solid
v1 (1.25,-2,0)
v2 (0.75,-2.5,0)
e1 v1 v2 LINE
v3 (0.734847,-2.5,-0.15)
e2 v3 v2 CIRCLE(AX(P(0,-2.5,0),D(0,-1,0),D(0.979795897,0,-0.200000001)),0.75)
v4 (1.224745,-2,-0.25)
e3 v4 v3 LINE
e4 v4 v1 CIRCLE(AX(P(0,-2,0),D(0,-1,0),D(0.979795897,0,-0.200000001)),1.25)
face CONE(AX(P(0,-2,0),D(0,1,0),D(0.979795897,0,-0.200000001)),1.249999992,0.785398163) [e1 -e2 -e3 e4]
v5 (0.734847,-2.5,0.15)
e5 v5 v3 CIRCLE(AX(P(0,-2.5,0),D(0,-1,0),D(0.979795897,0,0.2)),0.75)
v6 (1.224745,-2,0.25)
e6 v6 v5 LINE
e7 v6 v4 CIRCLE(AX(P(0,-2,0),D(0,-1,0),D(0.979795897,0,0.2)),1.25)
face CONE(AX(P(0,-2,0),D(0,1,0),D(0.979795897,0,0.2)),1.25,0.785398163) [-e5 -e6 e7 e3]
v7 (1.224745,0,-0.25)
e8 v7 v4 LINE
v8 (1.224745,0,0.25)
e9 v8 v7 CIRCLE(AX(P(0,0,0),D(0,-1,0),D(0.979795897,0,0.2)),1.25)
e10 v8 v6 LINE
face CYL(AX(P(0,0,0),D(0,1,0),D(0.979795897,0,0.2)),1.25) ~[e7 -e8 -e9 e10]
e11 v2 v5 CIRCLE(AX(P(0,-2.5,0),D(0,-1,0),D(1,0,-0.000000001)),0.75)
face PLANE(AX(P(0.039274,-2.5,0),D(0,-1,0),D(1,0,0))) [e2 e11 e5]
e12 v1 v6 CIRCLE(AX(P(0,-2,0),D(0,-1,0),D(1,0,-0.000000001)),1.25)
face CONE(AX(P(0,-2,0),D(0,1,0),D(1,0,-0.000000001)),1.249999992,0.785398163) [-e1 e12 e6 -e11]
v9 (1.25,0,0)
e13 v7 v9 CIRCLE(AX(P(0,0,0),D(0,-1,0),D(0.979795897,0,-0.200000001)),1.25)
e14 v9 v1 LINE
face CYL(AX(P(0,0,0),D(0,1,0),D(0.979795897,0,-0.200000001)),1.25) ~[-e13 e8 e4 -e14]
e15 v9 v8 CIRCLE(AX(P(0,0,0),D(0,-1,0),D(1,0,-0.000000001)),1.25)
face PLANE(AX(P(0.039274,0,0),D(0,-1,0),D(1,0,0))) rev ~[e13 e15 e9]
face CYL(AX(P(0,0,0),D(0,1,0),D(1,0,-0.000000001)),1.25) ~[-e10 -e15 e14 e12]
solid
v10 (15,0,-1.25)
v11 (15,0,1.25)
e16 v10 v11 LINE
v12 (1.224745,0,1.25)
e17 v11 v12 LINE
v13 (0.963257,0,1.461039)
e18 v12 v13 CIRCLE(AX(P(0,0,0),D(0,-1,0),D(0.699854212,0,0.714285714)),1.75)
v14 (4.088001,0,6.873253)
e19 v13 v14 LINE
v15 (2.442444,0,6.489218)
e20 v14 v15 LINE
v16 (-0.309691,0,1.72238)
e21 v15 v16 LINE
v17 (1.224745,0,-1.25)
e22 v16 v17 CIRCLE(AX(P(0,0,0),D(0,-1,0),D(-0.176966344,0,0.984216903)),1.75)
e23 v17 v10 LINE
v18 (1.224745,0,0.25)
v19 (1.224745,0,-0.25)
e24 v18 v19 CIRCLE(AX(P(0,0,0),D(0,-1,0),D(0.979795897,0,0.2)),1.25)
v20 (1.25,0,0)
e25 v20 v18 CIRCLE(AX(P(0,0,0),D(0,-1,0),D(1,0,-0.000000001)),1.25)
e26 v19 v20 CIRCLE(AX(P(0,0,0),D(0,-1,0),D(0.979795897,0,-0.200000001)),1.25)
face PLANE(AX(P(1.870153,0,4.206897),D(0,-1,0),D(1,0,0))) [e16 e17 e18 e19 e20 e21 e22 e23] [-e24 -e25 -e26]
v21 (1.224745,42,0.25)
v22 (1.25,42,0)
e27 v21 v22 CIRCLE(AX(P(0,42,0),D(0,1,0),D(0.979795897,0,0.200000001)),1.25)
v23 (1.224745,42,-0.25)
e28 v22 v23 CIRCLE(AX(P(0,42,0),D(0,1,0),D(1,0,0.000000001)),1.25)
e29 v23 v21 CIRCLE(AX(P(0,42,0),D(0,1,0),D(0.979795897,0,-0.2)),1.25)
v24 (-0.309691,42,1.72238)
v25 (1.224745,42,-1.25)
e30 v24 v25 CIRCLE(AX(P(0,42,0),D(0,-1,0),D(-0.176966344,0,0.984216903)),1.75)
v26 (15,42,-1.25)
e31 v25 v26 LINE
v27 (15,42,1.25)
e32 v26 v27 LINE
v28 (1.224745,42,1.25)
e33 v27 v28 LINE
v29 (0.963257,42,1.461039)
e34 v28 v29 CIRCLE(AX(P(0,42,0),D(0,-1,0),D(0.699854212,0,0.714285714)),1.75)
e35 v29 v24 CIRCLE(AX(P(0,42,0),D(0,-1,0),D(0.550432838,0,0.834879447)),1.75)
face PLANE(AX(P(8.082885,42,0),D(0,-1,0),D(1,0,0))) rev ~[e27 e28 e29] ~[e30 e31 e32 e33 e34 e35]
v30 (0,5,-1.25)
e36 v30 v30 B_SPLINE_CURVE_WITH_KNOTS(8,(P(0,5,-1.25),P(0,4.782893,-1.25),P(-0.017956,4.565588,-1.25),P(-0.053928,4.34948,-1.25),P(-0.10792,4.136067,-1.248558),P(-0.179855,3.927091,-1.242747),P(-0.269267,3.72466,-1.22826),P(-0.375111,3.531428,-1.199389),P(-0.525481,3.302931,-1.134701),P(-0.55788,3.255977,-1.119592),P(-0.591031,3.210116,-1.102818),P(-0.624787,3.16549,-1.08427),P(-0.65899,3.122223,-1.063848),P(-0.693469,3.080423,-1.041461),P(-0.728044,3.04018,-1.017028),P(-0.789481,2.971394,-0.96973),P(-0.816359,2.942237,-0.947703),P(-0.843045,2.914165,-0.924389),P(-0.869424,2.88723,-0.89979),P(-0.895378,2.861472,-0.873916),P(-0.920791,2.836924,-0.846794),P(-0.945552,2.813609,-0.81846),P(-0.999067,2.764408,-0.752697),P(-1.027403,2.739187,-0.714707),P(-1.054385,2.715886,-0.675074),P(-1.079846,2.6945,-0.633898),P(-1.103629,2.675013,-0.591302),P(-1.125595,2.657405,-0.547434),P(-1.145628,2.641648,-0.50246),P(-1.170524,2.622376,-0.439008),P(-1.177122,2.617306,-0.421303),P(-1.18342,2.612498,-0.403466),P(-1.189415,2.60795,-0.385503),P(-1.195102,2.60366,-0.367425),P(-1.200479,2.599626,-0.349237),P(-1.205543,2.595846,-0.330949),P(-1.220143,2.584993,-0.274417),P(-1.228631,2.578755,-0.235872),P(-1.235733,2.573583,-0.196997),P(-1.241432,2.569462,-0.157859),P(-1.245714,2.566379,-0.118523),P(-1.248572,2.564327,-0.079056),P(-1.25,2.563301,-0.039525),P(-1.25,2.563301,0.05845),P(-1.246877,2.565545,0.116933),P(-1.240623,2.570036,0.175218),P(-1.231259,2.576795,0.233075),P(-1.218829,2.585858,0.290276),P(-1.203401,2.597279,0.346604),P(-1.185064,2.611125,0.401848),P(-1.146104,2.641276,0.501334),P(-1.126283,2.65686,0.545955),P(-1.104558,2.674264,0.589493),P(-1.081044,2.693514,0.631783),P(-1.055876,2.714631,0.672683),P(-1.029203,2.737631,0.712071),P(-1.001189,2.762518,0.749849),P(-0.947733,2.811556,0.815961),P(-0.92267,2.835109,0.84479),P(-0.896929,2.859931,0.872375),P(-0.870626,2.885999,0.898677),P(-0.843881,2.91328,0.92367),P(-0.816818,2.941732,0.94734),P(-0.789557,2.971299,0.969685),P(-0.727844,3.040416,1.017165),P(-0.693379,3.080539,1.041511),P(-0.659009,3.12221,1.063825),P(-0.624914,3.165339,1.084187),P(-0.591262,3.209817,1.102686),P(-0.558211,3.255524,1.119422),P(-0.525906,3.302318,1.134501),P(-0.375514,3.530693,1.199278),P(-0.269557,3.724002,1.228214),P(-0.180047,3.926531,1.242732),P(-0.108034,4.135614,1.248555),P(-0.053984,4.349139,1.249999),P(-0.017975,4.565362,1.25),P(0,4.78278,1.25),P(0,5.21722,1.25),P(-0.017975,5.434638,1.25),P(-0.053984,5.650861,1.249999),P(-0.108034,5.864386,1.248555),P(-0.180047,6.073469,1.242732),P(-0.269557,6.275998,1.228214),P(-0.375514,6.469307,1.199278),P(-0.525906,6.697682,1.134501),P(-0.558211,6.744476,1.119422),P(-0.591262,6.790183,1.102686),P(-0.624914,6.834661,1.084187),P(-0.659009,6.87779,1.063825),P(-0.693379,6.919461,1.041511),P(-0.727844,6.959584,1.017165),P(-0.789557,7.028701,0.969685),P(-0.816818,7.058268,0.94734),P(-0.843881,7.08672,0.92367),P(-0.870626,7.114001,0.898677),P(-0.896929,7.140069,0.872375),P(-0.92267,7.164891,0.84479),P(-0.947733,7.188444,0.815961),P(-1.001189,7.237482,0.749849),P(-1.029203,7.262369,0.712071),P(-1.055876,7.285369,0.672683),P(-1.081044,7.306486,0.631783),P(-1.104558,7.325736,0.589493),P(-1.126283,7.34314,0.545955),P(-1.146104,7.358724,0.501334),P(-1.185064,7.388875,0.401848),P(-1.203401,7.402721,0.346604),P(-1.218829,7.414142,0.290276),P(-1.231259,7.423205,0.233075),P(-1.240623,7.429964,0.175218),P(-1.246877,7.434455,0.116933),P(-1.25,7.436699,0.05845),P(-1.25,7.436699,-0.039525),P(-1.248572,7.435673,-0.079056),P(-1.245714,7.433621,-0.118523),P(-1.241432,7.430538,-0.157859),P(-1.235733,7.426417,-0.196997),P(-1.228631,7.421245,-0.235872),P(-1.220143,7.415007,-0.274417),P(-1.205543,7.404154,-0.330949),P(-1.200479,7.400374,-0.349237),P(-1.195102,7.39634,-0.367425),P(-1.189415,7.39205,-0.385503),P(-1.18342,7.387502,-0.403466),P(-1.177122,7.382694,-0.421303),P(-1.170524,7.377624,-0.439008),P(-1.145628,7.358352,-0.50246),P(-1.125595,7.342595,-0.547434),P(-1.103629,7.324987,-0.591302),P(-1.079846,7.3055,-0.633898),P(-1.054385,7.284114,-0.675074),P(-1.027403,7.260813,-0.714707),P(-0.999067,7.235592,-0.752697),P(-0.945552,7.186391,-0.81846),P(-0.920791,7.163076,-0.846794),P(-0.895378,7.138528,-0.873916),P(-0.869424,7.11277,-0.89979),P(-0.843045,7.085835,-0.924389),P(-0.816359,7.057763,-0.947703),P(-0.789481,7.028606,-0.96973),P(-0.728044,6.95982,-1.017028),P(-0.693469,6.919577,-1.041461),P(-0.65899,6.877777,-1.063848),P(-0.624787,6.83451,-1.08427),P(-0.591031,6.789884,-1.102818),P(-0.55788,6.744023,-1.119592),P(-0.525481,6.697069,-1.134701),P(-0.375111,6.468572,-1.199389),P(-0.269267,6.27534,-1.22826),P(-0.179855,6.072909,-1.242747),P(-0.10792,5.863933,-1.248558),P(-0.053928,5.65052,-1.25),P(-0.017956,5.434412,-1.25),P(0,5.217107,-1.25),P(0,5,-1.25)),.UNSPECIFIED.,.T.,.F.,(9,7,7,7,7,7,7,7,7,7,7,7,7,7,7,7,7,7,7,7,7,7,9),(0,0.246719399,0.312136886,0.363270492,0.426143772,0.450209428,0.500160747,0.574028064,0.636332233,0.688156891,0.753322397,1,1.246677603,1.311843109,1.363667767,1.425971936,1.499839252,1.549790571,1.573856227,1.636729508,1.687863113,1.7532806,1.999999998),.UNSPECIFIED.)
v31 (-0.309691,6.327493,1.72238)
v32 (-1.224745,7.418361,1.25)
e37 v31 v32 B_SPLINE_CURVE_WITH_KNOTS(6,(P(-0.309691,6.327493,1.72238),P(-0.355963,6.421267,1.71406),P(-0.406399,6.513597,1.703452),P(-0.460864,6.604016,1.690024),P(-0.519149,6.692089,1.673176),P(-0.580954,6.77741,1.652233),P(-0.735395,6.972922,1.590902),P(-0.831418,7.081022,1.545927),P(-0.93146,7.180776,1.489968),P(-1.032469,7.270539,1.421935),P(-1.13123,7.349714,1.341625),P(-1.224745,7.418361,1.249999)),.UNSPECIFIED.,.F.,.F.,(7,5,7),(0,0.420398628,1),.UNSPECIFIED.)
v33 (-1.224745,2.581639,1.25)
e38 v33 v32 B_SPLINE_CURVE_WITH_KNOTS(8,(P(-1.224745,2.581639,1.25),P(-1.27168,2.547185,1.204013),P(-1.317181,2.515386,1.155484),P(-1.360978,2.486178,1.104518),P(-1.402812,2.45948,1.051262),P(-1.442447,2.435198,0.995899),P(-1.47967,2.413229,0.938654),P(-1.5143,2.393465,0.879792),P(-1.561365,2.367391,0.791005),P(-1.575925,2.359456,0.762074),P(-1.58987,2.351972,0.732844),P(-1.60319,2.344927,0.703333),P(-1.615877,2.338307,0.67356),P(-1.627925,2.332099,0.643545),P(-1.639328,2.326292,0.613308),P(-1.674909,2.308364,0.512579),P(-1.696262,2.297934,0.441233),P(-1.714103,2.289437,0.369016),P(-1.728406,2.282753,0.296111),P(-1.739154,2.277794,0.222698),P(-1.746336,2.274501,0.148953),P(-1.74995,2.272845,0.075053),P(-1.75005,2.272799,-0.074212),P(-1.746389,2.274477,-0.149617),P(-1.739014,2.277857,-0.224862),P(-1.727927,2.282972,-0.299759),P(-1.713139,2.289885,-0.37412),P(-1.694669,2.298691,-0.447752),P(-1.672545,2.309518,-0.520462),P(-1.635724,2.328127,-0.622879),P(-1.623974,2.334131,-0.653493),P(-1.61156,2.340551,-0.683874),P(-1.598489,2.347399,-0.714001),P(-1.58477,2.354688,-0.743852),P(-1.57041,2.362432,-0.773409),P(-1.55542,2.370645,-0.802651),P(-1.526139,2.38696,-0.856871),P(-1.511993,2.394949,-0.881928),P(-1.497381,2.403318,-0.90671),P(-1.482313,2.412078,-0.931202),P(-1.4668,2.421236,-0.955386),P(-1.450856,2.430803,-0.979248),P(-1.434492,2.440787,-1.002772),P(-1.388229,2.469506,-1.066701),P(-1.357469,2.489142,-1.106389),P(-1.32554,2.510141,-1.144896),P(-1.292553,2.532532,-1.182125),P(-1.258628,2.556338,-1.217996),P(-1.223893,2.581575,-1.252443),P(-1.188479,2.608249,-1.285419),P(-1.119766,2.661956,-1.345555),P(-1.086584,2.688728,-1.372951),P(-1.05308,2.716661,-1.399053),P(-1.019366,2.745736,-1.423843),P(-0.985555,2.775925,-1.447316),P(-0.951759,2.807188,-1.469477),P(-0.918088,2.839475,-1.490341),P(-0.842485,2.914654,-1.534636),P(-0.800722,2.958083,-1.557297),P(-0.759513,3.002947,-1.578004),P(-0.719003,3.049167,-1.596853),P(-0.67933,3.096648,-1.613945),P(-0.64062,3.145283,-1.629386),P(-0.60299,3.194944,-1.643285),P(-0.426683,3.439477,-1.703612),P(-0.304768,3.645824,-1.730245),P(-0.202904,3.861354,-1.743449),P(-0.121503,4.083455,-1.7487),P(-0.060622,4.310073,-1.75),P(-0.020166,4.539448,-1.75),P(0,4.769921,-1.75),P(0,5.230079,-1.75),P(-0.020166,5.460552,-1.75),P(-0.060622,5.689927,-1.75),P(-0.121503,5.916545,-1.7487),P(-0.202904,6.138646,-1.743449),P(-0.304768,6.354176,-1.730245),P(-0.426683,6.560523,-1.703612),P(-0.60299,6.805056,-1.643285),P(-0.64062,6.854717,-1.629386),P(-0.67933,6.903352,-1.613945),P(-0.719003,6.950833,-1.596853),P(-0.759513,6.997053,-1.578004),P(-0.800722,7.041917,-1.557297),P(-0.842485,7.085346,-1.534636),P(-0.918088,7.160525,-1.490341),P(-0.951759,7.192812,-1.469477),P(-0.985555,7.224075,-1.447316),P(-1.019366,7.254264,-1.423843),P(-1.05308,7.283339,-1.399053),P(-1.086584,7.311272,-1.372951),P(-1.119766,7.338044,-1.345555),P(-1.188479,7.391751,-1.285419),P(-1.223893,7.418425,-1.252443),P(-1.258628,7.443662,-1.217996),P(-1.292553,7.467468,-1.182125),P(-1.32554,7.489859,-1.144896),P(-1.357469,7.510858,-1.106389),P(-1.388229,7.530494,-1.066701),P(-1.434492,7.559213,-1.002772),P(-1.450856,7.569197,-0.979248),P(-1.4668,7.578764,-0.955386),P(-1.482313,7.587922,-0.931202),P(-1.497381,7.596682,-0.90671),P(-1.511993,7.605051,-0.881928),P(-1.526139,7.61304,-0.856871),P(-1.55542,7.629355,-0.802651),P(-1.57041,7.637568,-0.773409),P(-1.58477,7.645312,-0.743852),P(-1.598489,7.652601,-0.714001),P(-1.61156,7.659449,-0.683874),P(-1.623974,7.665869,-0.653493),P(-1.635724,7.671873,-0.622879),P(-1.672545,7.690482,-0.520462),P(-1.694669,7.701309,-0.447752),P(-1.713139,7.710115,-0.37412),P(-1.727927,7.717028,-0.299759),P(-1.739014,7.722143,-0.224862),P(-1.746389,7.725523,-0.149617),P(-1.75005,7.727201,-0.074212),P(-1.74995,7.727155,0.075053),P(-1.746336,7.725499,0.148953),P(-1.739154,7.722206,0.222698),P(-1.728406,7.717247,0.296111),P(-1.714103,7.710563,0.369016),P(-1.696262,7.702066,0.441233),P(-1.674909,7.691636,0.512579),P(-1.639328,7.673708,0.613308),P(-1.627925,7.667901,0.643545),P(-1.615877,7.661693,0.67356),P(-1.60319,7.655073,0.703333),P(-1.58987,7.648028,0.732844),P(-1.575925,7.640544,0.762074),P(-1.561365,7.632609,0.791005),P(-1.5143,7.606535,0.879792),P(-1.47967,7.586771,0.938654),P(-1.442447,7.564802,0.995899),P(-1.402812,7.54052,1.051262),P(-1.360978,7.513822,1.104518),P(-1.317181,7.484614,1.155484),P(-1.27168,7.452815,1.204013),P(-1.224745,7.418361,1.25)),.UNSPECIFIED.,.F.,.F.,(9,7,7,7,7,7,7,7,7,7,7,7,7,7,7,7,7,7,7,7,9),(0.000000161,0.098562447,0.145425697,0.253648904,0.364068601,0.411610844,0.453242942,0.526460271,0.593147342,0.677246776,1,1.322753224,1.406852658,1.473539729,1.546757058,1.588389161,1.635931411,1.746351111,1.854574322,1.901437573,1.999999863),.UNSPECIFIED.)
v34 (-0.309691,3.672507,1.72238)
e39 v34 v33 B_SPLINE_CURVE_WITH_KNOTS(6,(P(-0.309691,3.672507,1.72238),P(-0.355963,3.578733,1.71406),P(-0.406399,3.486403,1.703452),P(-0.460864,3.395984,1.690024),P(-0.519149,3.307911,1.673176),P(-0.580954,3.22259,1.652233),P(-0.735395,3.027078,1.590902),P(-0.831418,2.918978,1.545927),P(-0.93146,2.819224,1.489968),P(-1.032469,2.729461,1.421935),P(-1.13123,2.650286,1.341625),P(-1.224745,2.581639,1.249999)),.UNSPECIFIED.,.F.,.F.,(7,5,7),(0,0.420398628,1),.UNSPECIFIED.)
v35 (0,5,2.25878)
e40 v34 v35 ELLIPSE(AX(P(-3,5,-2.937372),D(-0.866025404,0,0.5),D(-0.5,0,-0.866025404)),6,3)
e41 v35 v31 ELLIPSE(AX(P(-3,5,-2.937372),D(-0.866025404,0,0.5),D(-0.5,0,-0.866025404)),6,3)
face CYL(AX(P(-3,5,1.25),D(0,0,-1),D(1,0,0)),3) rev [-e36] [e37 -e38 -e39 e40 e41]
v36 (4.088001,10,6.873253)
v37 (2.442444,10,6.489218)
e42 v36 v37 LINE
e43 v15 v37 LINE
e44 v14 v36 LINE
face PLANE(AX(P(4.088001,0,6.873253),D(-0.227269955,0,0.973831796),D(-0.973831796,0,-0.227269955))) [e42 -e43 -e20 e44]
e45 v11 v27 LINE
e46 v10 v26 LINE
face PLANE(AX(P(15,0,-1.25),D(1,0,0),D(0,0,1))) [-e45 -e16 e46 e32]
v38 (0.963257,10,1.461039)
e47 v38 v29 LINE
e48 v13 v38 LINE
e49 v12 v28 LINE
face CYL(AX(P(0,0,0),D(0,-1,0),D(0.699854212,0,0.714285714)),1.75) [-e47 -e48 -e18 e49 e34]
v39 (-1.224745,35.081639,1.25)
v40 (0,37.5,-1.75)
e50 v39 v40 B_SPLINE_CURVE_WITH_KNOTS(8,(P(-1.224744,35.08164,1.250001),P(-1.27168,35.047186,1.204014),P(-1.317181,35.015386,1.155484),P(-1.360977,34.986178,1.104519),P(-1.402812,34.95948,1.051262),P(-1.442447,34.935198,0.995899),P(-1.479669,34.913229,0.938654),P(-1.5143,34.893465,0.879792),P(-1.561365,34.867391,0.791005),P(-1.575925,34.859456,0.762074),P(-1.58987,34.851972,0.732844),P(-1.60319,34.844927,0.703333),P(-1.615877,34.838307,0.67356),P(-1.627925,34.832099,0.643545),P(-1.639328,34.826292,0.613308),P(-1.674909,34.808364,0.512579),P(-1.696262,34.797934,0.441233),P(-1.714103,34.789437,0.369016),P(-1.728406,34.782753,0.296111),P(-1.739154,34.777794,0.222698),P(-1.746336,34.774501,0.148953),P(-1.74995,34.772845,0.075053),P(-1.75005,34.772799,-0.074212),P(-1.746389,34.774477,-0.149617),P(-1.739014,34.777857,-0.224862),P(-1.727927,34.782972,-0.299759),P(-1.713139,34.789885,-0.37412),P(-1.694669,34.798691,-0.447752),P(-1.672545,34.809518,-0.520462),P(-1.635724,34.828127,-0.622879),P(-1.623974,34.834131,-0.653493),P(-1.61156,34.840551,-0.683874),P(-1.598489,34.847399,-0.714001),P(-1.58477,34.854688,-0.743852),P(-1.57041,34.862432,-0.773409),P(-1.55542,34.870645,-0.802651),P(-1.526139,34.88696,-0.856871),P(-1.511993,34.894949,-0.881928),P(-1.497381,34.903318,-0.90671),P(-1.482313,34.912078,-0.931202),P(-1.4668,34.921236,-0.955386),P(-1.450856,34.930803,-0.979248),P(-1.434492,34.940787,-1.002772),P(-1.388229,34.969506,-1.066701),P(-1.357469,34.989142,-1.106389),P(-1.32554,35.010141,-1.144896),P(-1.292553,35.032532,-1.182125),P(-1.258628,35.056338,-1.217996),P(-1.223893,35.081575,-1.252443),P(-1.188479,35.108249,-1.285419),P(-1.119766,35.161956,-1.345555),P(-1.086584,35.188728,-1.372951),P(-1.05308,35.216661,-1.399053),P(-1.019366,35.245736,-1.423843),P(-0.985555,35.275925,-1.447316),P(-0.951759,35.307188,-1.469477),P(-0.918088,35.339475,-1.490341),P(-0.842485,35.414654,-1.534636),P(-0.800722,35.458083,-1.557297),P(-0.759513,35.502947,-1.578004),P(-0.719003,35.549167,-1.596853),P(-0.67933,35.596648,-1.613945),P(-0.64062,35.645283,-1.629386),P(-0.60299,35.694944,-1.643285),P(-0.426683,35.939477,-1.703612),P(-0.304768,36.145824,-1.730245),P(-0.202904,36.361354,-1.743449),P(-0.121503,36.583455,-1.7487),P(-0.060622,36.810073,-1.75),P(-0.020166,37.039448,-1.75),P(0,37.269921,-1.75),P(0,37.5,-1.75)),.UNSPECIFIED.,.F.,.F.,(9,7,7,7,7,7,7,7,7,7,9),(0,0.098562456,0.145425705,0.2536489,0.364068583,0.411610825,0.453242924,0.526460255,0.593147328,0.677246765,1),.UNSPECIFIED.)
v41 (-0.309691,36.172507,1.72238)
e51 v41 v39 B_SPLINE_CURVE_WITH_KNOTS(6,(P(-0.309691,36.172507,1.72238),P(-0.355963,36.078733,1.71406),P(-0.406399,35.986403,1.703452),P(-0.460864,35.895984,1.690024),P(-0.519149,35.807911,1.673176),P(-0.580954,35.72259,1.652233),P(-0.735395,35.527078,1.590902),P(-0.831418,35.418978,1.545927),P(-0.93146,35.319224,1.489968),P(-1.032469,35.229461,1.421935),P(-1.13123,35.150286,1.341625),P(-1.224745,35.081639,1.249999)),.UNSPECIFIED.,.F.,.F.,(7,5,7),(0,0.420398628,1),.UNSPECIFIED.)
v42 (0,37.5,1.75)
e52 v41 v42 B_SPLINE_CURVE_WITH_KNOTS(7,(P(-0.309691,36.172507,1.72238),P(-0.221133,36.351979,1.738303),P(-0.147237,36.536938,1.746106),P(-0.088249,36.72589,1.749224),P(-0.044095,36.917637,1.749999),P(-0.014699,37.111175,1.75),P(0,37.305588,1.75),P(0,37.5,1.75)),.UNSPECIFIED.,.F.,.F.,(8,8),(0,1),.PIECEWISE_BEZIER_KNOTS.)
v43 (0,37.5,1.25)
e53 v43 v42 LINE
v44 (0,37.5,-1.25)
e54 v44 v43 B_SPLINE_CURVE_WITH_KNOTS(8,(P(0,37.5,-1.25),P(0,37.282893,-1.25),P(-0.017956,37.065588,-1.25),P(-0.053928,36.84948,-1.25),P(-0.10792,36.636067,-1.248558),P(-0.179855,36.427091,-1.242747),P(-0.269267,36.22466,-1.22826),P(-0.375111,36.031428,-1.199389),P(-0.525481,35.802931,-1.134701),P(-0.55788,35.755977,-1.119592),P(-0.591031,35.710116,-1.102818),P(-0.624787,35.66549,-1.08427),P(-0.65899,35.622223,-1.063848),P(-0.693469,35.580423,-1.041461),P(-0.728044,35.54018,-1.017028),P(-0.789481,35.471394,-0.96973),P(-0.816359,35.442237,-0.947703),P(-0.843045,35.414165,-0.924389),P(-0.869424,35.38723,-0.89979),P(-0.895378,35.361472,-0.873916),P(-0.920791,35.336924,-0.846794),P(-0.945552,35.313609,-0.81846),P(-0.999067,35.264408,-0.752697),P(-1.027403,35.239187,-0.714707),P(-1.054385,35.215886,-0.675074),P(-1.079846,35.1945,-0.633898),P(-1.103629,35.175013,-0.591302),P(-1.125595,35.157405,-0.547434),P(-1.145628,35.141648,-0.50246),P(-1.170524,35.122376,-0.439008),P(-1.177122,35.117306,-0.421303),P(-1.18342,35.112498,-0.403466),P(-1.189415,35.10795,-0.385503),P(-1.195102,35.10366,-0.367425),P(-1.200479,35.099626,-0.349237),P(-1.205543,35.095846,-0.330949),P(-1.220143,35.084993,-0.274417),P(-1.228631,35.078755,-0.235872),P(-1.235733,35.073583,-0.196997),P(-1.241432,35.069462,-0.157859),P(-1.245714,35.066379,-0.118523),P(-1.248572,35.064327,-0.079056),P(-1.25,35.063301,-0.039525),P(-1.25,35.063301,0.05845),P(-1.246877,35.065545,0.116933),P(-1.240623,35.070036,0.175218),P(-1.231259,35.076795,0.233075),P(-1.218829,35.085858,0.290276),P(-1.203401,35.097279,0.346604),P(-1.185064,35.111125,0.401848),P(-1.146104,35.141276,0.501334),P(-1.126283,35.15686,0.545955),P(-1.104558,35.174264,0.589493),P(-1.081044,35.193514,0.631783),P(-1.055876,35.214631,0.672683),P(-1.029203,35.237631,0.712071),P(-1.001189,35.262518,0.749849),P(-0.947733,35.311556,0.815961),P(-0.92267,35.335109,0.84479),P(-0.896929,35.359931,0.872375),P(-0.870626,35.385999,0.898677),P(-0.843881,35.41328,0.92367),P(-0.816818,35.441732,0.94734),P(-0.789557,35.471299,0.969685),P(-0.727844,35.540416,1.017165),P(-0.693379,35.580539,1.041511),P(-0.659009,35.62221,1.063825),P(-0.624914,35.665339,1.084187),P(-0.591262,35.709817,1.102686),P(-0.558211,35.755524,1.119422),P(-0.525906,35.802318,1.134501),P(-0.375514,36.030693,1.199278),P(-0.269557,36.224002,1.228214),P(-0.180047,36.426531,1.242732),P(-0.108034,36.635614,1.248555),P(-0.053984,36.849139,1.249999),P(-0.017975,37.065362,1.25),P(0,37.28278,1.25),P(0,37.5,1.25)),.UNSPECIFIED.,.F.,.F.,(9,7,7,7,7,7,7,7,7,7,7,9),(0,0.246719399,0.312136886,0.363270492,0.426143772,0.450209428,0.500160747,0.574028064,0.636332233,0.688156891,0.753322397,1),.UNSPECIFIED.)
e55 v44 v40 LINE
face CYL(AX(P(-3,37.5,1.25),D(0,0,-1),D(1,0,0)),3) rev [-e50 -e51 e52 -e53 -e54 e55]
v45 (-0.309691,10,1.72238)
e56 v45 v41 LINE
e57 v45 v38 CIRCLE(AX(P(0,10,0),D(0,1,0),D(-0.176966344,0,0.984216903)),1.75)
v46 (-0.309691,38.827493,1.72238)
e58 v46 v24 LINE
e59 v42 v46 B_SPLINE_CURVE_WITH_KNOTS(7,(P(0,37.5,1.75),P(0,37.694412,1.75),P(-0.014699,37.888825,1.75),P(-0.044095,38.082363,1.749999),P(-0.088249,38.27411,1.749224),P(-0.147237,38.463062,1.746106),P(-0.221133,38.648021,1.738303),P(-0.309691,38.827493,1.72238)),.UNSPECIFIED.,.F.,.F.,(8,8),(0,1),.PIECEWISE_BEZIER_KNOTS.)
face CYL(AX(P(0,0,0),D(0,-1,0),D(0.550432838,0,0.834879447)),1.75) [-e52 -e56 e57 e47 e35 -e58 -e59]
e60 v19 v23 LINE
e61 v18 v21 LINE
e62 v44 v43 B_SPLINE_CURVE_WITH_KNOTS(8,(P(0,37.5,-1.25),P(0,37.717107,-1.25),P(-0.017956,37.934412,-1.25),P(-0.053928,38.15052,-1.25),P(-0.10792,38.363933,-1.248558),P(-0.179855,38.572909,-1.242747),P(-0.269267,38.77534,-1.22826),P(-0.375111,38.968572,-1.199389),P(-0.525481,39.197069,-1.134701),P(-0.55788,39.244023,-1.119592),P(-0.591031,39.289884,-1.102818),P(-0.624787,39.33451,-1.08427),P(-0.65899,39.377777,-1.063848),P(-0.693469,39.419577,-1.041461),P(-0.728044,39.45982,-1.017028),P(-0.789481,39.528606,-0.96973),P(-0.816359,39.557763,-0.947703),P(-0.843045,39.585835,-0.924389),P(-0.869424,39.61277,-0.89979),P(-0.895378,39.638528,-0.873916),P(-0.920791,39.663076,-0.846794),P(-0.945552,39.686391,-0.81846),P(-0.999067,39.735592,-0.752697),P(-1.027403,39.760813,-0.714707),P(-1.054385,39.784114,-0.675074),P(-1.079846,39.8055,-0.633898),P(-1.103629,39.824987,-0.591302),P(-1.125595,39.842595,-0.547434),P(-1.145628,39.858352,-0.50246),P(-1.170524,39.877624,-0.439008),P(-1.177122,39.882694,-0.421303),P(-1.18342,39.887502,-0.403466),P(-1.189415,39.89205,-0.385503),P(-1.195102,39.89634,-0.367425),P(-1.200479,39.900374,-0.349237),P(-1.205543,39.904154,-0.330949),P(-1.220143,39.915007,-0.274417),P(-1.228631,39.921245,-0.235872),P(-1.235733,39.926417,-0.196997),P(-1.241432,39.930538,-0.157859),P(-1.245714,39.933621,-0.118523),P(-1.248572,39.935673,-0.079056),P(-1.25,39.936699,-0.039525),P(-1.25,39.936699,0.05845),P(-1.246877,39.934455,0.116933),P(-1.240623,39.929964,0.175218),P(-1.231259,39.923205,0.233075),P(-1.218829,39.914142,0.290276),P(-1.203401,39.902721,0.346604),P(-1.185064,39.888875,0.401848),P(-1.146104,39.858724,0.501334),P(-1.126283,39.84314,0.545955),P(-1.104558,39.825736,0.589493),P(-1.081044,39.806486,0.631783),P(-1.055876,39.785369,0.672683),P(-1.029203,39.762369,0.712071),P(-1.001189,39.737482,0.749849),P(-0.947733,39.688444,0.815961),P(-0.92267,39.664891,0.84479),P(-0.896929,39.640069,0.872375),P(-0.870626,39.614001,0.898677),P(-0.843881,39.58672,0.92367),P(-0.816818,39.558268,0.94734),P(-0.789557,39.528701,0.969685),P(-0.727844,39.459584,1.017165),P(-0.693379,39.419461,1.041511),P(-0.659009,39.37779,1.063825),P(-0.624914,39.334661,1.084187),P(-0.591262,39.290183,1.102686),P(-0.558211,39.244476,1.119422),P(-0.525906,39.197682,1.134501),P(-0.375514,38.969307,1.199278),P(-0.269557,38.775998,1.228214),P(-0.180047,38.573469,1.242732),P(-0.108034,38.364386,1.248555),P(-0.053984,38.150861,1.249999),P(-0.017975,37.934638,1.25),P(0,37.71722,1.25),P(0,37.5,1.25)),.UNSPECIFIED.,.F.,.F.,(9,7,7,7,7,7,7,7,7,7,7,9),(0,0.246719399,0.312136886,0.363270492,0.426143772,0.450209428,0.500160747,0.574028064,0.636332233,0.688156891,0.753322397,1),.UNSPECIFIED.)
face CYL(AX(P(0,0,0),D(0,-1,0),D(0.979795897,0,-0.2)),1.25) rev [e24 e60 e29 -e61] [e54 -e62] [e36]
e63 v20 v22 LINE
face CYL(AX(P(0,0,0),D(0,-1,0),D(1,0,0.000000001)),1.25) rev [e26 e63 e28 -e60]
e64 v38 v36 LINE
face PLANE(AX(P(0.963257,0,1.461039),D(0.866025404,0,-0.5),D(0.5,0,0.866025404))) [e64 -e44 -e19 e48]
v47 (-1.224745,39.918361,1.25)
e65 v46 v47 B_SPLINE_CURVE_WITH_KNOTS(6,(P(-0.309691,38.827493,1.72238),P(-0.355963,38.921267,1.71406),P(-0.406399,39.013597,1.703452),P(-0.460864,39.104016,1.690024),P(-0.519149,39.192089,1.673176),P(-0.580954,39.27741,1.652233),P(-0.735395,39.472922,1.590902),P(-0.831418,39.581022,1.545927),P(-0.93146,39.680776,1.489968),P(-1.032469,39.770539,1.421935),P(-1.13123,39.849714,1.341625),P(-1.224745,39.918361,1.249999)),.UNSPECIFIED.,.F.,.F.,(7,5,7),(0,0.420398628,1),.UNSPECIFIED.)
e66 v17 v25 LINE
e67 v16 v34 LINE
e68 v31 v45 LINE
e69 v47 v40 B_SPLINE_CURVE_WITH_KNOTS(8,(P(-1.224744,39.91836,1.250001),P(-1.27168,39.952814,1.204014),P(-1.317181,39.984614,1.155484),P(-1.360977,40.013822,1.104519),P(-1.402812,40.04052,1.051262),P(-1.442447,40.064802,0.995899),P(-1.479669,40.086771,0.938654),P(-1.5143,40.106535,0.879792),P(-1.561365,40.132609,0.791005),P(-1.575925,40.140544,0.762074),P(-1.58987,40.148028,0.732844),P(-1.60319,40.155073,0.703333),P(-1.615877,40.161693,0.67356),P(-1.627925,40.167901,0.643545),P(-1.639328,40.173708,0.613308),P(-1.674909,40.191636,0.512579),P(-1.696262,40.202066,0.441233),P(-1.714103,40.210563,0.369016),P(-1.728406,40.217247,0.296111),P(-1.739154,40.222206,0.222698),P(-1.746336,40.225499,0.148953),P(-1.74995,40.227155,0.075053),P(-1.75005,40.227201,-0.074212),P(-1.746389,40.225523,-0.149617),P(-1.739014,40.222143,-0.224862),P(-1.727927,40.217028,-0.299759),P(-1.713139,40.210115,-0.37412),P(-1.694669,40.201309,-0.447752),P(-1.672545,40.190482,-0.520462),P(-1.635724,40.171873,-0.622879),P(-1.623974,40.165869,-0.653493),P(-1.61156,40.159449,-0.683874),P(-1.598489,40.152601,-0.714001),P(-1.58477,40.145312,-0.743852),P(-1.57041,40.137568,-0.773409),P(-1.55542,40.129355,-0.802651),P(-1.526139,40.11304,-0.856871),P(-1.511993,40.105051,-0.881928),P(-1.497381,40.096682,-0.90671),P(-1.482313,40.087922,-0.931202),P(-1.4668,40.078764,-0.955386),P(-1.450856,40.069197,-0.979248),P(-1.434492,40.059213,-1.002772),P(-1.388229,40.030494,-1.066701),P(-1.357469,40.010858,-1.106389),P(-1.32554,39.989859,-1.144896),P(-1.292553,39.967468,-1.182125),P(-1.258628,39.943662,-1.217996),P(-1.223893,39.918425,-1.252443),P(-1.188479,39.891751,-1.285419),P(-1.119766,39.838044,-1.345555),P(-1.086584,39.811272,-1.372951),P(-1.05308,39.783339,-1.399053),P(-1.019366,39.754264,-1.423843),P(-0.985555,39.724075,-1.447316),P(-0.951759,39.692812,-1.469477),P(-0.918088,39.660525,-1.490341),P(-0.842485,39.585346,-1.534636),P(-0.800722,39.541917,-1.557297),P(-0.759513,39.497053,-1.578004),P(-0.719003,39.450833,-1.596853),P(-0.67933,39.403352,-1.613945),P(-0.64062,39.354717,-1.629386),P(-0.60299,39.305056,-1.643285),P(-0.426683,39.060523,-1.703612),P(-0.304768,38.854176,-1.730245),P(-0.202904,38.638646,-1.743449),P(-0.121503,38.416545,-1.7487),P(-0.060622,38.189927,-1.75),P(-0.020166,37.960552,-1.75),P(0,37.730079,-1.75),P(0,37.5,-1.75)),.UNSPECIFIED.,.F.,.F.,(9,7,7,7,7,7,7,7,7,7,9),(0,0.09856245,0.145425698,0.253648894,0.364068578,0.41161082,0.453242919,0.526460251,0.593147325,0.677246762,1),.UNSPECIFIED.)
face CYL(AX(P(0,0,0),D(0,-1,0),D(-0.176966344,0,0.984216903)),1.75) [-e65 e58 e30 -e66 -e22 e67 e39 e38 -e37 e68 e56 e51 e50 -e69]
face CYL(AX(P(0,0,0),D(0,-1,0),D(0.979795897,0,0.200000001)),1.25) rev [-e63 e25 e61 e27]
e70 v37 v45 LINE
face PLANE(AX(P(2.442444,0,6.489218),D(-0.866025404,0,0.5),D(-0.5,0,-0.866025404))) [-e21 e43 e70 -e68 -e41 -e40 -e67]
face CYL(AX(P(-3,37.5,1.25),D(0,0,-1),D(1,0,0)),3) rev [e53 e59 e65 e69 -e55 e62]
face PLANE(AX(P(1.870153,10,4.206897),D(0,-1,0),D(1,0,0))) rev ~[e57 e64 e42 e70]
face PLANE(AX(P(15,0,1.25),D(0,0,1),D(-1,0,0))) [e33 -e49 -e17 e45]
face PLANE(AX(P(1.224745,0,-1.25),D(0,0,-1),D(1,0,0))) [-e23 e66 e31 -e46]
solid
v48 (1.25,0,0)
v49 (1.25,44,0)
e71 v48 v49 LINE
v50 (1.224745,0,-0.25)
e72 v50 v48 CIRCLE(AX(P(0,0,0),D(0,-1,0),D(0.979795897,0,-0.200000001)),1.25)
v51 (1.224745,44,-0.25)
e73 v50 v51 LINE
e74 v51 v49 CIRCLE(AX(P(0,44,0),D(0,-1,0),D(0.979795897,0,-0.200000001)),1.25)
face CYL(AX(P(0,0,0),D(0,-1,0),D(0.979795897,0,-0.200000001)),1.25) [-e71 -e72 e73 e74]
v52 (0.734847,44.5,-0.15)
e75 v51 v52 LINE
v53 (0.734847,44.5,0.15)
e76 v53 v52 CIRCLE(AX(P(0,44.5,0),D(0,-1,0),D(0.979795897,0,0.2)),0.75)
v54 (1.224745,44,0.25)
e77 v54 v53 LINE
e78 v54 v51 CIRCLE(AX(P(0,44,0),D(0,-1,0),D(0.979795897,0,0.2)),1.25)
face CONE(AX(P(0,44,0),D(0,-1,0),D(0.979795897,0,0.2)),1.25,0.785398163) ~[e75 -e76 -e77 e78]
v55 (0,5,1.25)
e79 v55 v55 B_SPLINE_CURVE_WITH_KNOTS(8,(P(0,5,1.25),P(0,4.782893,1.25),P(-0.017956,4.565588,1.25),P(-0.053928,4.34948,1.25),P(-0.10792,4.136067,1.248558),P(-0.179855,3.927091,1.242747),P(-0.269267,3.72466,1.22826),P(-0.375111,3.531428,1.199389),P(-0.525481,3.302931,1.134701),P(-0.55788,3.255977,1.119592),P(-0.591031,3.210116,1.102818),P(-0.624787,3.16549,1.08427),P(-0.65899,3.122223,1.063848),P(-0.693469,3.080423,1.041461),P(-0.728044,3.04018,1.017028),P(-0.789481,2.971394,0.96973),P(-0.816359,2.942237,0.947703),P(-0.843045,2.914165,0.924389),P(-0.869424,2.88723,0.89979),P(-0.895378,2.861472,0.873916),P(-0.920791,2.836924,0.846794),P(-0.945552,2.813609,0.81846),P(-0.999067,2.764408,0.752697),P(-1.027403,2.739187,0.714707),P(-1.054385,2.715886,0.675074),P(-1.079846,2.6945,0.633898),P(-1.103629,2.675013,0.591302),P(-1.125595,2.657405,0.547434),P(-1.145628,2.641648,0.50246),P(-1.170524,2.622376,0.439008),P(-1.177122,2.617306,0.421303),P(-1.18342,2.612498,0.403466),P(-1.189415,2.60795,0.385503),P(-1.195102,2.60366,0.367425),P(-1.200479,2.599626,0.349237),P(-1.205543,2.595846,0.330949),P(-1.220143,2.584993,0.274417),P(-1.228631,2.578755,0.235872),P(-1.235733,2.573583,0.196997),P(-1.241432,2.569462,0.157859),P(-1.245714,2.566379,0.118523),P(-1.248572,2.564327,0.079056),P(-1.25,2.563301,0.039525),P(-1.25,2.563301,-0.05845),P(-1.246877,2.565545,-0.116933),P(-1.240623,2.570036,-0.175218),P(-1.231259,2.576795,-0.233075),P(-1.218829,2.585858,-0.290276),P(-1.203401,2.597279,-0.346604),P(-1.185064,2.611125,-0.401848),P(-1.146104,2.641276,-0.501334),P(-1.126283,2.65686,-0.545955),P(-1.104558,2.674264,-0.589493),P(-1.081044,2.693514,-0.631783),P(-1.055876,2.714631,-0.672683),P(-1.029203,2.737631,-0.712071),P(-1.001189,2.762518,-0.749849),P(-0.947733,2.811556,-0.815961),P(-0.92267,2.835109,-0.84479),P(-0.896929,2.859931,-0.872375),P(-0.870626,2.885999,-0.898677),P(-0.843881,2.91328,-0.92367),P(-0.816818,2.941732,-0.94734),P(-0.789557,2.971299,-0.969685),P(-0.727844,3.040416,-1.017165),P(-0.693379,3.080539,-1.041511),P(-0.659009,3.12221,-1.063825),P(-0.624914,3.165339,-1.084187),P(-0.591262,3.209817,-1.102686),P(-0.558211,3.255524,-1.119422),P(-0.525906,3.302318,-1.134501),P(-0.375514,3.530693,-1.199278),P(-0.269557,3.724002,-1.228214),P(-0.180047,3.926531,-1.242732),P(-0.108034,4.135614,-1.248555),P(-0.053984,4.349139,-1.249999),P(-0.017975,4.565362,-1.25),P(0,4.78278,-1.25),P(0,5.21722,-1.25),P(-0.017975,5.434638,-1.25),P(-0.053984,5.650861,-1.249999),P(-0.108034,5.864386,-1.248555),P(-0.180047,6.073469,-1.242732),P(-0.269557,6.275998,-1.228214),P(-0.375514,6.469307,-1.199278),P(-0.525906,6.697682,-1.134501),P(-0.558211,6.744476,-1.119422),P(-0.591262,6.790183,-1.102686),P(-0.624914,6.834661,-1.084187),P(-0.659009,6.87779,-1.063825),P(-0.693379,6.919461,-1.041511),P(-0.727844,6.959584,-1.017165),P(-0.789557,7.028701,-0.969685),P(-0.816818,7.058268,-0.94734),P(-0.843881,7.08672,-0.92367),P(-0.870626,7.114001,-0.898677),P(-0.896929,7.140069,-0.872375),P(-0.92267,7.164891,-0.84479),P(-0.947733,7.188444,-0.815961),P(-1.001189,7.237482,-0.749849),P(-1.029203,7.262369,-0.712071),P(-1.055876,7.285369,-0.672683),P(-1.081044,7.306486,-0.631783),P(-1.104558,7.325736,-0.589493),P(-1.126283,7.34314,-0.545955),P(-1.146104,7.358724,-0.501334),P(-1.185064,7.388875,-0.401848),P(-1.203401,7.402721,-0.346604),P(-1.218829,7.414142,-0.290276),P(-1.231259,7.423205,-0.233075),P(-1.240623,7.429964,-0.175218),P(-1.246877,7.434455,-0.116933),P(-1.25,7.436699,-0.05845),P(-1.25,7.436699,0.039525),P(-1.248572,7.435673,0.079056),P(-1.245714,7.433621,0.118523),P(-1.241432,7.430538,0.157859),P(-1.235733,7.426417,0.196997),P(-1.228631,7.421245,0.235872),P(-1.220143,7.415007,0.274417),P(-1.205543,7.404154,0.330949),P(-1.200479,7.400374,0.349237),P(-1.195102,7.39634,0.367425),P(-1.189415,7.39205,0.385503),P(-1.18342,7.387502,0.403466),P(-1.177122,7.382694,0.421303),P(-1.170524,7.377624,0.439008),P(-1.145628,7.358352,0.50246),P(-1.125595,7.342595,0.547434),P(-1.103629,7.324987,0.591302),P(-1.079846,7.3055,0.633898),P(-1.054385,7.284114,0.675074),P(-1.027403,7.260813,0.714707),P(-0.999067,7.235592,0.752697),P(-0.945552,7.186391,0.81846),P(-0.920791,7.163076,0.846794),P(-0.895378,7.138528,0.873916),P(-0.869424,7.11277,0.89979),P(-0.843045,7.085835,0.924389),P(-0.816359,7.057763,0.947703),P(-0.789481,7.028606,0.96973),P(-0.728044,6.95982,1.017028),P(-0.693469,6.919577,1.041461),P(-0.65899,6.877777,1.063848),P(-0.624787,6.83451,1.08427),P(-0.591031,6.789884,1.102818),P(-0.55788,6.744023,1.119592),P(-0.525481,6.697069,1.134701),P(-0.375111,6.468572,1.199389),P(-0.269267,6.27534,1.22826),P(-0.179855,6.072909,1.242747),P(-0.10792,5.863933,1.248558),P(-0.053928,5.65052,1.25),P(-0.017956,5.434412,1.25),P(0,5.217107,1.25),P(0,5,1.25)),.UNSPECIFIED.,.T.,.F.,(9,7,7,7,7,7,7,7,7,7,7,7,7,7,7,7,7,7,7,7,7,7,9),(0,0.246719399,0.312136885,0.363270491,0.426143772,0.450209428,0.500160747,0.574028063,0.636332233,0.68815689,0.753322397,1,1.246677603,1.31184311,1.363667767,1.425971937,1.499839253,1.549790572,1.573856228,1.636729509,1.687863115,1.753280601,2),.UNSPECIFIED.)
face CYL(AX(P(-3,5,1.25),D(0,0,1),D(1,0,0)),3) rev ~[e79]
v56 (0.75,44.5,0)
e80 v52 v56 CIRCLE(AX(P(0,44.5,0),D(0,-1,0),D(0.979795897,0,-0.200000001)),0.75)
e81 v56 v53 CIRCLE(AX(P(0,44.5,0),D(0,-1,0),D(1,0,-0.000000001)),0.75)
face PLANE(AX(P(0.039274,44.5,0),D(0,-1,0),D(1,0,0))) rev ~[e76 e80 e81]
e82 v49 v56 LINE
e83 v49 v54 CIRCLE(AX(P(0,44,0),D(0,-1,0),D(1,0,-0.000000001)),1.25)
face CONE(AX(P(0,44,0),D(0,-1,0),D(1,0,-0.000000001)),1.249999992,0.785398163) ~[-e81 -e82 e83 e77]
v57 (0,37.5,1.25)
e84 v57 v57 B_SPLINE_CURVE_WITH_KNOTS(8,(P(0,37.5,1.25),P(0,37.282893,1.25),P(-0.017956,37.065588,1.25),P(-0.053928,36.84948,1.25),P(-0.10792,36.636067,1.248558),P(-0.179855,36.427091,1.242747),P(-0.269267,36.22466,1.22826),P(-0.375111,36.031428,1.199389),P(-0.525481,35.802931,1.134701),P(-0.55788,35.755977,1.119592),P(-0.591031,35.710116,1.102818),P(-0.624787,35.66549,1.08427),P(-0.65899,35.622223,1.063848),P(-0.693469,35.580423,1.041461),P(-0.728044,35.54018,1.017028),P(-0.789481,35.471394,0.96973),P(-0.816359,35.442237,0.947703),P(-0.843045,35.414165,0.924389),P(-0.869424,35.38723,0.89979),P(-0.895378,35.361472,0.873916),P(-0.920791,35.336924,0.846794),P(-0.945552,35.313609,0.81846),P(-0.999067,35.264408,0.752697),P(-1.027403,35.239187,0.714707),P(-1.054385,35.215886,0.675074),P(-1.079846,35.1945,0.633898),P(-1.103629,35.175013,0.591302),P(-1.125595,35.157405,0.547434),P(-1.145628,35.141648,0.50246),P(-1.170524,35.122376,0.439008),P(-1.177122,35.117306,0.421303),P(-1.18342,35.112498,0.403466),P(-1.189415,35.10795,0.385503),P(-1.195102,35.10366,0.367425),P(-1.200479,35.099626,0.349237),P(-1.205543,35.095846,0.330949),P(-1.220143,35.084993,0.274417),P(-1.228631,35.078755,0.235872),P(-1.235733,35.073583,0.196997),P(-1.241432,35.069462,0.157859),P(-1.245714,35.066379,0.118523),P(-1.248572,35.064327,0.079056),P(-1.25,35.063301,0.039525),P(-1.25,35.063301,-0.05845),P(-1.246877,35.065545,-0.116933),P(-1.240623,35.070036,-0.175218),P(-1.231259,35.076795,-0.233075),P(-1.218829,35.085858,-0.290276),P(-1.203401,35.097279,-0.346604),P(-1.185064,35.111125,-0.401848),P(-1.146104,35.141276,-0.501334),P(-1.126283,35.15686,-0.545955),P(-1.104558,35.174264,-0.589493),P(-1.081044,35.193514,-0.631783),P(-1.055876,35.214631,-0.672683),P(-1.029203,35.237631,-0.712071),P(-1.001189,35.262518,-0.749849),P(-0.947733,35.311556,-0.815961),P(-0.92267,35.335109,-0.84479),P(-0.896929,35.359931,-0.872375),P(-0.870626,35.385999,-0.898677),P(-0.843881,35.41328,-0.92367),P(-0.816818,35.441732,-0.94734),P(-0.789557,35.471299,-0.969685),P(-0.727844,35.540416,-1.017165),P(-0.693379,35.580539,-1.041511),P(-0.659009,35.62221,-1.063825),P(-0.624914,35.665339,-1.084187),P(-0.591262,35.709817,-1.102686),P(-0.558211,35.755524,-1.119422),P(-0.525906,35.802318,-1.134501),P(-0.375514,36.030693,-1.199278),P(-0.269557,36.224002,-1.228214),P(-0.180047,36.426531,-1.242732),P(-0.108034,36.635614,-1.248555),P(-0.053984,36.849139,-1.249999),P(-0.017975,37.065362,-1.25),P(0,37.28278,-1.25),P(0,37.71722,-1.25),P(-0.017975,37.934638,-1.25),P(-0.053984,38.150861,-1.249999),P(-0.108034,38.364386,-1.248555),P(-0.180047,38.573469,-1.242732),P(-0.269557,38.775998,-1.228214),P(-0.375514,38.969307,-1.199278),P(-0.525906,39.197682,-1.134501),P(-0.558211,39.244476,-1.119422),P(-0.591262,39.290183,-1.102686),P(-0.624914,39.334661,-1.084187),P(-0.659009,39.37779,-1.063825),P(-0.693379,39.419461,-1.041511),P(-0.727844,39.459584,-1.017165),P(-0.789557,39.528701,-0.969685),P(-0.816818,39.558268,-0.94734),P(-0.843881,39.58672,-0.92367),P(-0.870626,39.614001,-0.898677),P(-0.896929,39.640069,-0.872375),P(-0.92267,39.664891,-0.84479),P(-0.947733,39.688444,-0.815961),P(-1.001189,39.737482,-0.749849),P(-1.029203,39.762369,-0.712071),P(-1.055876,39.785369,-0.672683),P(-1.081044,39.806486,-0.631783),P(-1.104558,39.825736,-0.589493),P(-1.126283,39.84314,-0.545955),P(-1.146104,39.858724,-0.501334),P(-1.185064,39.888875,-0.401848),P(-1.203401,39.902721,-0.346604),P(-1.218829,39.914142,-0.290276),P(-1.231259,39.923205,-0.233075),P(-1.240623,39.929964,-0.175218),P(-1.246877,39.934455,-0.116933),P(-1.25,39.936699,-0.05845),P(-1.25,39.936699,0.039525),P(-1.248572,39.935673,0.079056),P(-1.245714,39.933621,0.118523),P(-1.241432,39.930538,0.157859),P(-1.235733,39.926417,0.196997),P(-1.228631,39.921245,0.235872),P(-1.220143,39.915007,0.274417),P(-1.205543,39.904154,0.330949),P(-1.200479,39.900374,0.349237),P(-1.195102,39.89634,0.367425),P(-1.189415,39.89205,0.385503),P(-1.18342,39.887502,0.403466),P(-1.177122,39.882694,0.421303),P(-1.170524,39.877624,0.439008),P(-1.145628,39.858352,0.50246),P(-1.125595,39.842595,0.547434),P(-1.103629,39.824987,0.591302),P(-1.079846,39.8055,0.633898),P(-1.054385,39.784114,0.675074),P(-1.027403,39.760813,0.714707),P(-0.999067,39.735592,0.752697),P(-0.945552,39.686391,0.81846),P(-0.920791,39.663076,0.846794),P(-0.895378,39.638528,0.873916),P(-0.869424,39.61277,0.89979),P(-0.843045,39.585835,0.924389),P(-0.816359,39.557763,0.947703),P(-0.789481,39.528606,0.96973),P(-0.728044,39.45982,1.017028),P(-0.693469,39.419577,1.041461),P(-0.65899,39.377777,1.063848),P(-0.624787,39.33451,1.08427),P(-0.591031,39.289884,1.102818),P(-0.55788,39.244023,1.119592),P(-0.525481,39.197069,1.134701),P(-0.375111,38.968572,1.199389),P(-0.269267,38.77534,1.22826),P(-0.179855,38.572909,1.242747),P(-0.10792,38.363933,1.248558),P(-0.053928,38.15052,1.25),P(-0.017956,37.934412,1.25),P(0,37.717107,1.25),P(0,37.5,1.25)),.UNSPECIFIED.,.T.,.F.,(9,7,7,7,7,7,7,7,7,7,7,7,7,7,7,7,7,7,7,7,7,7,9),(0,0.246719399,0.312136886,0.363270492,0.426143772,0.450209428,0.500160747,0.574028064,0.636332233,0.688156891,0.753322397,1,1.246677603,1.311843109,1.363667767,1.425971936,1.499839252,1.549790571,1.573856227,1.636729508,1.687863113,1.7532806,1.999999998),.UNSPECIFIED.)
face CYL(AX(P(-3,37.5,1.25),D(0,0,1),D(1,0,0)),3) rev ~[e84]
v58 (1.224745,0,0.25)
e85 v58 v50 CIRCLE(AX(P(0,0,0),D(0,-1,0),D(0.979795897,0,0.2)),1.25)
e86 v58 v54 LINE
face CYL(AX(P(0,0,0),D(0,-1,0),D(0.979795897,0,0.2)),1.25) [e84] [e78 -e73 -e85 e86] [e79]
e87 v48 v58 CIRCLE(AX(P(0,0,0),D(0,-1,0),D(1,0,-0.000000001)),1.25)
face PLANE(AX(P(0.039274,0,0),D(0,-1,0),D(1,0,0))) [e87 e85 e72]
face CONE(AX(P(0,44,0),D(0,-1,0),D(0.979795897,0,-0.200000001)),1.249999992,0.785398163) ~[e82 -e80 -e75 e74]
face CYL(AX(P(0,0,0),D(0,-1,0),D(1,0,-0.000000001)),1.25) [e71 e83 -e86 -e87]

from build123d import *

# Parameters (mm, degrees)
F1_DEPTH      = 2.5
F2_SIZE       = 0.5
F3_DEPTH      = 42
F4_DEPTH      = 44.5
F5_SIZE       = 0.5
F7_DEPTH      = 10
F6_R          = 3
F8_DEPTH      = 10
F8_DEPTH_BACK = 10


with BuildPart() as f1:
    # F0 (on Front) → F1 (new body)
    with BuildSketch(Plane.XZ):
        with BuildLine():
            Line((1.2247448714, -0.25), (1.2247448714, 0.25))
            ThreePointArc((1.2247448714, 0.25), (-1.25, 0), (1.2247448714, -0.25))
        make_face()
        with BuildLine():
            ThreePointArc((1.25, 0), (1.2436701913, 0.1256362025), (1.2247448714, 0.25))
            Line((1.2247448714, 0.25), (1.2247448714, -0.25))
            ThreePointArc((1.2247448714, -0.25), (1.2436701913, -0.1256362025), (1.25, 0))
        make_face()
    extrude(amount=F1_DEPTH)

    # F2
    f2_edges = [f1.edges().sort_by_distance(p)[0] for p in [
        (-1.224745, -2.5, 0.25),
    ]]
    chamfer(f2_edges, length=F2_SIZE)

    # F0 (on Front) → F3 (join)
    with BuildSketch(Plane.XZ):
        with BuildLine():
            ThreePointArc((1.2247448714, 1.25), (1.6133510971, 0.6779367504), (1.75, 0))
            ThreePointArc((1.75, 0), (1.6133510971, -0.6779367504), (1.2247448714, -1.25))
            Line((1.2247448714, -1.25), (15, -1.25))
            Line((15, -1.25), (15, 1.25))
            Line((15, 1.25), (1.2247448714, 1.25))
        make_face()
        with BuildLine():
            Line((1.2247448714, 0.25), (1.2247448714, 1.25))
            ThreePointArc((1.2247448714, 1.25), (1.0990782163, 1.3618102197), (0.9632574662, 1.4610390323))
            ThreePointArc((0.9632574662, 1.4610390323), (0.3519402911, 1.7142456159), (-0.3096911027, 1.722379581))
            ThreePointArc((-0.3096911027, 1.722379581), (-1.5550212035, -0.8027509307), (1.2247448714, -1.25))
            Line((1.2247448714, -1.25), (1.2247448714, -0.25))
            ThreePointArc((1.2247448714, -0.25), (-1.25, 0), (1.2247448714, 0.25))
        make_face()
        with BuildLine():
            ThreePointArc((1.2247448714, -1.25), (1.6133510971, -0.6779367504), (1.75, 0))
            ThreePointArc((1.75, 0), (1.6133510971, 0.6779367504), (1.2247448714, 1.25))
            Line((1.2247448714, 1.25), (1.2247448714, 0.25))
            ThreePointArc((1.2247448714, 0.25), (1.2436701913, 0.1256362025), (1.25, 0))
            ThreePointArc((1.25, 0), (1.2436701913, -0.1256362025), (1.2247448714, -0.25))
            Line((1.2247448714, -0.25), (1.2247448714, -1.25))
        make_face()
    extrude(amount=-F3_DEPTH)

    # F0 (on Front) → F7 (join)
    with BuildSketch(Plane.XZ):
        with BuildLine():
            ThreePointArc((-0.3096911027, 1.722379581), (0.3519402911, 1.7142456159), (0.9632574662, 1.4610390323))
            Line((0.9632574662, 1.4610390323), (4.0880007002, 6.8732530742))
            Line((4.0880007002, 6.8732530742), (2.4424443742, 6.4892180562))
            Line((2.4424443742, 6.4892180562), (-0.3096911027, 1.722379581))
        make_face()
    extrude(amount=-F7_DEPTH)


with BuildPart() as f4:
    # F0 (on Front) → F4 (new body)
    with BuildSketch(Plane.XZ):
        with BuildLine():
            Line((1.2247448714, -0.25), (1.2247448714, 0.25))
            ThreePointArc((1.2247448714, 0.25), (-1.25, 0), (1.2247448714, -0.25))
        make_face()
        with BuildLine():
            ThreePointArc((1.25, 0), (1.2436701913, 0.1256362025), (1.2247448714, 0.25))
            Line((1.2247448714, 0.25), (1.2247448714, -0.25))
            ThreePointArc((1.2247448714, -0.25), (1.2436701913, -0.1256362025), (1.25, 0))
        make_face()
    extrude(amount=-F4_DEPTH)

    # F5
    f5_edges = [f4.edges().sort_by_distance(p)[0] for p in [
        (-1.224745, 44.5, 0.25),
    ]]
    chamfer(f5_edges, length=F5_SIZE)


with BuildPart() as f8_tool:
    # F6 (on face) → F8 (new body, two sides)
    with BuildSketch(Plane.XY.offset(1.25)) as f8_sk:
        with Locations((-3, 37.5)):
            Circle(F6_R)
        with Locations((-3, 5)):
            Circle(F6_R)
    extrude(amount=-F8_DEPTH)
    extrude(f8_sk.sketch, amount=F8_DEPTH_BACK)


with BuildPart() as f1_1:
    add(f1.part)

    # F8: cut by f8_tool
    add(f8_tool.part, mode=Mode.SUBTRACT)


with BuildPart() as f4_1:
    add(f4.part)

    # F8: cut by f8_tool
    add(f8_tool.part, mode=Mode.SUBTRACT)


solid = Compound([f1_1.part, f4_1.part])
